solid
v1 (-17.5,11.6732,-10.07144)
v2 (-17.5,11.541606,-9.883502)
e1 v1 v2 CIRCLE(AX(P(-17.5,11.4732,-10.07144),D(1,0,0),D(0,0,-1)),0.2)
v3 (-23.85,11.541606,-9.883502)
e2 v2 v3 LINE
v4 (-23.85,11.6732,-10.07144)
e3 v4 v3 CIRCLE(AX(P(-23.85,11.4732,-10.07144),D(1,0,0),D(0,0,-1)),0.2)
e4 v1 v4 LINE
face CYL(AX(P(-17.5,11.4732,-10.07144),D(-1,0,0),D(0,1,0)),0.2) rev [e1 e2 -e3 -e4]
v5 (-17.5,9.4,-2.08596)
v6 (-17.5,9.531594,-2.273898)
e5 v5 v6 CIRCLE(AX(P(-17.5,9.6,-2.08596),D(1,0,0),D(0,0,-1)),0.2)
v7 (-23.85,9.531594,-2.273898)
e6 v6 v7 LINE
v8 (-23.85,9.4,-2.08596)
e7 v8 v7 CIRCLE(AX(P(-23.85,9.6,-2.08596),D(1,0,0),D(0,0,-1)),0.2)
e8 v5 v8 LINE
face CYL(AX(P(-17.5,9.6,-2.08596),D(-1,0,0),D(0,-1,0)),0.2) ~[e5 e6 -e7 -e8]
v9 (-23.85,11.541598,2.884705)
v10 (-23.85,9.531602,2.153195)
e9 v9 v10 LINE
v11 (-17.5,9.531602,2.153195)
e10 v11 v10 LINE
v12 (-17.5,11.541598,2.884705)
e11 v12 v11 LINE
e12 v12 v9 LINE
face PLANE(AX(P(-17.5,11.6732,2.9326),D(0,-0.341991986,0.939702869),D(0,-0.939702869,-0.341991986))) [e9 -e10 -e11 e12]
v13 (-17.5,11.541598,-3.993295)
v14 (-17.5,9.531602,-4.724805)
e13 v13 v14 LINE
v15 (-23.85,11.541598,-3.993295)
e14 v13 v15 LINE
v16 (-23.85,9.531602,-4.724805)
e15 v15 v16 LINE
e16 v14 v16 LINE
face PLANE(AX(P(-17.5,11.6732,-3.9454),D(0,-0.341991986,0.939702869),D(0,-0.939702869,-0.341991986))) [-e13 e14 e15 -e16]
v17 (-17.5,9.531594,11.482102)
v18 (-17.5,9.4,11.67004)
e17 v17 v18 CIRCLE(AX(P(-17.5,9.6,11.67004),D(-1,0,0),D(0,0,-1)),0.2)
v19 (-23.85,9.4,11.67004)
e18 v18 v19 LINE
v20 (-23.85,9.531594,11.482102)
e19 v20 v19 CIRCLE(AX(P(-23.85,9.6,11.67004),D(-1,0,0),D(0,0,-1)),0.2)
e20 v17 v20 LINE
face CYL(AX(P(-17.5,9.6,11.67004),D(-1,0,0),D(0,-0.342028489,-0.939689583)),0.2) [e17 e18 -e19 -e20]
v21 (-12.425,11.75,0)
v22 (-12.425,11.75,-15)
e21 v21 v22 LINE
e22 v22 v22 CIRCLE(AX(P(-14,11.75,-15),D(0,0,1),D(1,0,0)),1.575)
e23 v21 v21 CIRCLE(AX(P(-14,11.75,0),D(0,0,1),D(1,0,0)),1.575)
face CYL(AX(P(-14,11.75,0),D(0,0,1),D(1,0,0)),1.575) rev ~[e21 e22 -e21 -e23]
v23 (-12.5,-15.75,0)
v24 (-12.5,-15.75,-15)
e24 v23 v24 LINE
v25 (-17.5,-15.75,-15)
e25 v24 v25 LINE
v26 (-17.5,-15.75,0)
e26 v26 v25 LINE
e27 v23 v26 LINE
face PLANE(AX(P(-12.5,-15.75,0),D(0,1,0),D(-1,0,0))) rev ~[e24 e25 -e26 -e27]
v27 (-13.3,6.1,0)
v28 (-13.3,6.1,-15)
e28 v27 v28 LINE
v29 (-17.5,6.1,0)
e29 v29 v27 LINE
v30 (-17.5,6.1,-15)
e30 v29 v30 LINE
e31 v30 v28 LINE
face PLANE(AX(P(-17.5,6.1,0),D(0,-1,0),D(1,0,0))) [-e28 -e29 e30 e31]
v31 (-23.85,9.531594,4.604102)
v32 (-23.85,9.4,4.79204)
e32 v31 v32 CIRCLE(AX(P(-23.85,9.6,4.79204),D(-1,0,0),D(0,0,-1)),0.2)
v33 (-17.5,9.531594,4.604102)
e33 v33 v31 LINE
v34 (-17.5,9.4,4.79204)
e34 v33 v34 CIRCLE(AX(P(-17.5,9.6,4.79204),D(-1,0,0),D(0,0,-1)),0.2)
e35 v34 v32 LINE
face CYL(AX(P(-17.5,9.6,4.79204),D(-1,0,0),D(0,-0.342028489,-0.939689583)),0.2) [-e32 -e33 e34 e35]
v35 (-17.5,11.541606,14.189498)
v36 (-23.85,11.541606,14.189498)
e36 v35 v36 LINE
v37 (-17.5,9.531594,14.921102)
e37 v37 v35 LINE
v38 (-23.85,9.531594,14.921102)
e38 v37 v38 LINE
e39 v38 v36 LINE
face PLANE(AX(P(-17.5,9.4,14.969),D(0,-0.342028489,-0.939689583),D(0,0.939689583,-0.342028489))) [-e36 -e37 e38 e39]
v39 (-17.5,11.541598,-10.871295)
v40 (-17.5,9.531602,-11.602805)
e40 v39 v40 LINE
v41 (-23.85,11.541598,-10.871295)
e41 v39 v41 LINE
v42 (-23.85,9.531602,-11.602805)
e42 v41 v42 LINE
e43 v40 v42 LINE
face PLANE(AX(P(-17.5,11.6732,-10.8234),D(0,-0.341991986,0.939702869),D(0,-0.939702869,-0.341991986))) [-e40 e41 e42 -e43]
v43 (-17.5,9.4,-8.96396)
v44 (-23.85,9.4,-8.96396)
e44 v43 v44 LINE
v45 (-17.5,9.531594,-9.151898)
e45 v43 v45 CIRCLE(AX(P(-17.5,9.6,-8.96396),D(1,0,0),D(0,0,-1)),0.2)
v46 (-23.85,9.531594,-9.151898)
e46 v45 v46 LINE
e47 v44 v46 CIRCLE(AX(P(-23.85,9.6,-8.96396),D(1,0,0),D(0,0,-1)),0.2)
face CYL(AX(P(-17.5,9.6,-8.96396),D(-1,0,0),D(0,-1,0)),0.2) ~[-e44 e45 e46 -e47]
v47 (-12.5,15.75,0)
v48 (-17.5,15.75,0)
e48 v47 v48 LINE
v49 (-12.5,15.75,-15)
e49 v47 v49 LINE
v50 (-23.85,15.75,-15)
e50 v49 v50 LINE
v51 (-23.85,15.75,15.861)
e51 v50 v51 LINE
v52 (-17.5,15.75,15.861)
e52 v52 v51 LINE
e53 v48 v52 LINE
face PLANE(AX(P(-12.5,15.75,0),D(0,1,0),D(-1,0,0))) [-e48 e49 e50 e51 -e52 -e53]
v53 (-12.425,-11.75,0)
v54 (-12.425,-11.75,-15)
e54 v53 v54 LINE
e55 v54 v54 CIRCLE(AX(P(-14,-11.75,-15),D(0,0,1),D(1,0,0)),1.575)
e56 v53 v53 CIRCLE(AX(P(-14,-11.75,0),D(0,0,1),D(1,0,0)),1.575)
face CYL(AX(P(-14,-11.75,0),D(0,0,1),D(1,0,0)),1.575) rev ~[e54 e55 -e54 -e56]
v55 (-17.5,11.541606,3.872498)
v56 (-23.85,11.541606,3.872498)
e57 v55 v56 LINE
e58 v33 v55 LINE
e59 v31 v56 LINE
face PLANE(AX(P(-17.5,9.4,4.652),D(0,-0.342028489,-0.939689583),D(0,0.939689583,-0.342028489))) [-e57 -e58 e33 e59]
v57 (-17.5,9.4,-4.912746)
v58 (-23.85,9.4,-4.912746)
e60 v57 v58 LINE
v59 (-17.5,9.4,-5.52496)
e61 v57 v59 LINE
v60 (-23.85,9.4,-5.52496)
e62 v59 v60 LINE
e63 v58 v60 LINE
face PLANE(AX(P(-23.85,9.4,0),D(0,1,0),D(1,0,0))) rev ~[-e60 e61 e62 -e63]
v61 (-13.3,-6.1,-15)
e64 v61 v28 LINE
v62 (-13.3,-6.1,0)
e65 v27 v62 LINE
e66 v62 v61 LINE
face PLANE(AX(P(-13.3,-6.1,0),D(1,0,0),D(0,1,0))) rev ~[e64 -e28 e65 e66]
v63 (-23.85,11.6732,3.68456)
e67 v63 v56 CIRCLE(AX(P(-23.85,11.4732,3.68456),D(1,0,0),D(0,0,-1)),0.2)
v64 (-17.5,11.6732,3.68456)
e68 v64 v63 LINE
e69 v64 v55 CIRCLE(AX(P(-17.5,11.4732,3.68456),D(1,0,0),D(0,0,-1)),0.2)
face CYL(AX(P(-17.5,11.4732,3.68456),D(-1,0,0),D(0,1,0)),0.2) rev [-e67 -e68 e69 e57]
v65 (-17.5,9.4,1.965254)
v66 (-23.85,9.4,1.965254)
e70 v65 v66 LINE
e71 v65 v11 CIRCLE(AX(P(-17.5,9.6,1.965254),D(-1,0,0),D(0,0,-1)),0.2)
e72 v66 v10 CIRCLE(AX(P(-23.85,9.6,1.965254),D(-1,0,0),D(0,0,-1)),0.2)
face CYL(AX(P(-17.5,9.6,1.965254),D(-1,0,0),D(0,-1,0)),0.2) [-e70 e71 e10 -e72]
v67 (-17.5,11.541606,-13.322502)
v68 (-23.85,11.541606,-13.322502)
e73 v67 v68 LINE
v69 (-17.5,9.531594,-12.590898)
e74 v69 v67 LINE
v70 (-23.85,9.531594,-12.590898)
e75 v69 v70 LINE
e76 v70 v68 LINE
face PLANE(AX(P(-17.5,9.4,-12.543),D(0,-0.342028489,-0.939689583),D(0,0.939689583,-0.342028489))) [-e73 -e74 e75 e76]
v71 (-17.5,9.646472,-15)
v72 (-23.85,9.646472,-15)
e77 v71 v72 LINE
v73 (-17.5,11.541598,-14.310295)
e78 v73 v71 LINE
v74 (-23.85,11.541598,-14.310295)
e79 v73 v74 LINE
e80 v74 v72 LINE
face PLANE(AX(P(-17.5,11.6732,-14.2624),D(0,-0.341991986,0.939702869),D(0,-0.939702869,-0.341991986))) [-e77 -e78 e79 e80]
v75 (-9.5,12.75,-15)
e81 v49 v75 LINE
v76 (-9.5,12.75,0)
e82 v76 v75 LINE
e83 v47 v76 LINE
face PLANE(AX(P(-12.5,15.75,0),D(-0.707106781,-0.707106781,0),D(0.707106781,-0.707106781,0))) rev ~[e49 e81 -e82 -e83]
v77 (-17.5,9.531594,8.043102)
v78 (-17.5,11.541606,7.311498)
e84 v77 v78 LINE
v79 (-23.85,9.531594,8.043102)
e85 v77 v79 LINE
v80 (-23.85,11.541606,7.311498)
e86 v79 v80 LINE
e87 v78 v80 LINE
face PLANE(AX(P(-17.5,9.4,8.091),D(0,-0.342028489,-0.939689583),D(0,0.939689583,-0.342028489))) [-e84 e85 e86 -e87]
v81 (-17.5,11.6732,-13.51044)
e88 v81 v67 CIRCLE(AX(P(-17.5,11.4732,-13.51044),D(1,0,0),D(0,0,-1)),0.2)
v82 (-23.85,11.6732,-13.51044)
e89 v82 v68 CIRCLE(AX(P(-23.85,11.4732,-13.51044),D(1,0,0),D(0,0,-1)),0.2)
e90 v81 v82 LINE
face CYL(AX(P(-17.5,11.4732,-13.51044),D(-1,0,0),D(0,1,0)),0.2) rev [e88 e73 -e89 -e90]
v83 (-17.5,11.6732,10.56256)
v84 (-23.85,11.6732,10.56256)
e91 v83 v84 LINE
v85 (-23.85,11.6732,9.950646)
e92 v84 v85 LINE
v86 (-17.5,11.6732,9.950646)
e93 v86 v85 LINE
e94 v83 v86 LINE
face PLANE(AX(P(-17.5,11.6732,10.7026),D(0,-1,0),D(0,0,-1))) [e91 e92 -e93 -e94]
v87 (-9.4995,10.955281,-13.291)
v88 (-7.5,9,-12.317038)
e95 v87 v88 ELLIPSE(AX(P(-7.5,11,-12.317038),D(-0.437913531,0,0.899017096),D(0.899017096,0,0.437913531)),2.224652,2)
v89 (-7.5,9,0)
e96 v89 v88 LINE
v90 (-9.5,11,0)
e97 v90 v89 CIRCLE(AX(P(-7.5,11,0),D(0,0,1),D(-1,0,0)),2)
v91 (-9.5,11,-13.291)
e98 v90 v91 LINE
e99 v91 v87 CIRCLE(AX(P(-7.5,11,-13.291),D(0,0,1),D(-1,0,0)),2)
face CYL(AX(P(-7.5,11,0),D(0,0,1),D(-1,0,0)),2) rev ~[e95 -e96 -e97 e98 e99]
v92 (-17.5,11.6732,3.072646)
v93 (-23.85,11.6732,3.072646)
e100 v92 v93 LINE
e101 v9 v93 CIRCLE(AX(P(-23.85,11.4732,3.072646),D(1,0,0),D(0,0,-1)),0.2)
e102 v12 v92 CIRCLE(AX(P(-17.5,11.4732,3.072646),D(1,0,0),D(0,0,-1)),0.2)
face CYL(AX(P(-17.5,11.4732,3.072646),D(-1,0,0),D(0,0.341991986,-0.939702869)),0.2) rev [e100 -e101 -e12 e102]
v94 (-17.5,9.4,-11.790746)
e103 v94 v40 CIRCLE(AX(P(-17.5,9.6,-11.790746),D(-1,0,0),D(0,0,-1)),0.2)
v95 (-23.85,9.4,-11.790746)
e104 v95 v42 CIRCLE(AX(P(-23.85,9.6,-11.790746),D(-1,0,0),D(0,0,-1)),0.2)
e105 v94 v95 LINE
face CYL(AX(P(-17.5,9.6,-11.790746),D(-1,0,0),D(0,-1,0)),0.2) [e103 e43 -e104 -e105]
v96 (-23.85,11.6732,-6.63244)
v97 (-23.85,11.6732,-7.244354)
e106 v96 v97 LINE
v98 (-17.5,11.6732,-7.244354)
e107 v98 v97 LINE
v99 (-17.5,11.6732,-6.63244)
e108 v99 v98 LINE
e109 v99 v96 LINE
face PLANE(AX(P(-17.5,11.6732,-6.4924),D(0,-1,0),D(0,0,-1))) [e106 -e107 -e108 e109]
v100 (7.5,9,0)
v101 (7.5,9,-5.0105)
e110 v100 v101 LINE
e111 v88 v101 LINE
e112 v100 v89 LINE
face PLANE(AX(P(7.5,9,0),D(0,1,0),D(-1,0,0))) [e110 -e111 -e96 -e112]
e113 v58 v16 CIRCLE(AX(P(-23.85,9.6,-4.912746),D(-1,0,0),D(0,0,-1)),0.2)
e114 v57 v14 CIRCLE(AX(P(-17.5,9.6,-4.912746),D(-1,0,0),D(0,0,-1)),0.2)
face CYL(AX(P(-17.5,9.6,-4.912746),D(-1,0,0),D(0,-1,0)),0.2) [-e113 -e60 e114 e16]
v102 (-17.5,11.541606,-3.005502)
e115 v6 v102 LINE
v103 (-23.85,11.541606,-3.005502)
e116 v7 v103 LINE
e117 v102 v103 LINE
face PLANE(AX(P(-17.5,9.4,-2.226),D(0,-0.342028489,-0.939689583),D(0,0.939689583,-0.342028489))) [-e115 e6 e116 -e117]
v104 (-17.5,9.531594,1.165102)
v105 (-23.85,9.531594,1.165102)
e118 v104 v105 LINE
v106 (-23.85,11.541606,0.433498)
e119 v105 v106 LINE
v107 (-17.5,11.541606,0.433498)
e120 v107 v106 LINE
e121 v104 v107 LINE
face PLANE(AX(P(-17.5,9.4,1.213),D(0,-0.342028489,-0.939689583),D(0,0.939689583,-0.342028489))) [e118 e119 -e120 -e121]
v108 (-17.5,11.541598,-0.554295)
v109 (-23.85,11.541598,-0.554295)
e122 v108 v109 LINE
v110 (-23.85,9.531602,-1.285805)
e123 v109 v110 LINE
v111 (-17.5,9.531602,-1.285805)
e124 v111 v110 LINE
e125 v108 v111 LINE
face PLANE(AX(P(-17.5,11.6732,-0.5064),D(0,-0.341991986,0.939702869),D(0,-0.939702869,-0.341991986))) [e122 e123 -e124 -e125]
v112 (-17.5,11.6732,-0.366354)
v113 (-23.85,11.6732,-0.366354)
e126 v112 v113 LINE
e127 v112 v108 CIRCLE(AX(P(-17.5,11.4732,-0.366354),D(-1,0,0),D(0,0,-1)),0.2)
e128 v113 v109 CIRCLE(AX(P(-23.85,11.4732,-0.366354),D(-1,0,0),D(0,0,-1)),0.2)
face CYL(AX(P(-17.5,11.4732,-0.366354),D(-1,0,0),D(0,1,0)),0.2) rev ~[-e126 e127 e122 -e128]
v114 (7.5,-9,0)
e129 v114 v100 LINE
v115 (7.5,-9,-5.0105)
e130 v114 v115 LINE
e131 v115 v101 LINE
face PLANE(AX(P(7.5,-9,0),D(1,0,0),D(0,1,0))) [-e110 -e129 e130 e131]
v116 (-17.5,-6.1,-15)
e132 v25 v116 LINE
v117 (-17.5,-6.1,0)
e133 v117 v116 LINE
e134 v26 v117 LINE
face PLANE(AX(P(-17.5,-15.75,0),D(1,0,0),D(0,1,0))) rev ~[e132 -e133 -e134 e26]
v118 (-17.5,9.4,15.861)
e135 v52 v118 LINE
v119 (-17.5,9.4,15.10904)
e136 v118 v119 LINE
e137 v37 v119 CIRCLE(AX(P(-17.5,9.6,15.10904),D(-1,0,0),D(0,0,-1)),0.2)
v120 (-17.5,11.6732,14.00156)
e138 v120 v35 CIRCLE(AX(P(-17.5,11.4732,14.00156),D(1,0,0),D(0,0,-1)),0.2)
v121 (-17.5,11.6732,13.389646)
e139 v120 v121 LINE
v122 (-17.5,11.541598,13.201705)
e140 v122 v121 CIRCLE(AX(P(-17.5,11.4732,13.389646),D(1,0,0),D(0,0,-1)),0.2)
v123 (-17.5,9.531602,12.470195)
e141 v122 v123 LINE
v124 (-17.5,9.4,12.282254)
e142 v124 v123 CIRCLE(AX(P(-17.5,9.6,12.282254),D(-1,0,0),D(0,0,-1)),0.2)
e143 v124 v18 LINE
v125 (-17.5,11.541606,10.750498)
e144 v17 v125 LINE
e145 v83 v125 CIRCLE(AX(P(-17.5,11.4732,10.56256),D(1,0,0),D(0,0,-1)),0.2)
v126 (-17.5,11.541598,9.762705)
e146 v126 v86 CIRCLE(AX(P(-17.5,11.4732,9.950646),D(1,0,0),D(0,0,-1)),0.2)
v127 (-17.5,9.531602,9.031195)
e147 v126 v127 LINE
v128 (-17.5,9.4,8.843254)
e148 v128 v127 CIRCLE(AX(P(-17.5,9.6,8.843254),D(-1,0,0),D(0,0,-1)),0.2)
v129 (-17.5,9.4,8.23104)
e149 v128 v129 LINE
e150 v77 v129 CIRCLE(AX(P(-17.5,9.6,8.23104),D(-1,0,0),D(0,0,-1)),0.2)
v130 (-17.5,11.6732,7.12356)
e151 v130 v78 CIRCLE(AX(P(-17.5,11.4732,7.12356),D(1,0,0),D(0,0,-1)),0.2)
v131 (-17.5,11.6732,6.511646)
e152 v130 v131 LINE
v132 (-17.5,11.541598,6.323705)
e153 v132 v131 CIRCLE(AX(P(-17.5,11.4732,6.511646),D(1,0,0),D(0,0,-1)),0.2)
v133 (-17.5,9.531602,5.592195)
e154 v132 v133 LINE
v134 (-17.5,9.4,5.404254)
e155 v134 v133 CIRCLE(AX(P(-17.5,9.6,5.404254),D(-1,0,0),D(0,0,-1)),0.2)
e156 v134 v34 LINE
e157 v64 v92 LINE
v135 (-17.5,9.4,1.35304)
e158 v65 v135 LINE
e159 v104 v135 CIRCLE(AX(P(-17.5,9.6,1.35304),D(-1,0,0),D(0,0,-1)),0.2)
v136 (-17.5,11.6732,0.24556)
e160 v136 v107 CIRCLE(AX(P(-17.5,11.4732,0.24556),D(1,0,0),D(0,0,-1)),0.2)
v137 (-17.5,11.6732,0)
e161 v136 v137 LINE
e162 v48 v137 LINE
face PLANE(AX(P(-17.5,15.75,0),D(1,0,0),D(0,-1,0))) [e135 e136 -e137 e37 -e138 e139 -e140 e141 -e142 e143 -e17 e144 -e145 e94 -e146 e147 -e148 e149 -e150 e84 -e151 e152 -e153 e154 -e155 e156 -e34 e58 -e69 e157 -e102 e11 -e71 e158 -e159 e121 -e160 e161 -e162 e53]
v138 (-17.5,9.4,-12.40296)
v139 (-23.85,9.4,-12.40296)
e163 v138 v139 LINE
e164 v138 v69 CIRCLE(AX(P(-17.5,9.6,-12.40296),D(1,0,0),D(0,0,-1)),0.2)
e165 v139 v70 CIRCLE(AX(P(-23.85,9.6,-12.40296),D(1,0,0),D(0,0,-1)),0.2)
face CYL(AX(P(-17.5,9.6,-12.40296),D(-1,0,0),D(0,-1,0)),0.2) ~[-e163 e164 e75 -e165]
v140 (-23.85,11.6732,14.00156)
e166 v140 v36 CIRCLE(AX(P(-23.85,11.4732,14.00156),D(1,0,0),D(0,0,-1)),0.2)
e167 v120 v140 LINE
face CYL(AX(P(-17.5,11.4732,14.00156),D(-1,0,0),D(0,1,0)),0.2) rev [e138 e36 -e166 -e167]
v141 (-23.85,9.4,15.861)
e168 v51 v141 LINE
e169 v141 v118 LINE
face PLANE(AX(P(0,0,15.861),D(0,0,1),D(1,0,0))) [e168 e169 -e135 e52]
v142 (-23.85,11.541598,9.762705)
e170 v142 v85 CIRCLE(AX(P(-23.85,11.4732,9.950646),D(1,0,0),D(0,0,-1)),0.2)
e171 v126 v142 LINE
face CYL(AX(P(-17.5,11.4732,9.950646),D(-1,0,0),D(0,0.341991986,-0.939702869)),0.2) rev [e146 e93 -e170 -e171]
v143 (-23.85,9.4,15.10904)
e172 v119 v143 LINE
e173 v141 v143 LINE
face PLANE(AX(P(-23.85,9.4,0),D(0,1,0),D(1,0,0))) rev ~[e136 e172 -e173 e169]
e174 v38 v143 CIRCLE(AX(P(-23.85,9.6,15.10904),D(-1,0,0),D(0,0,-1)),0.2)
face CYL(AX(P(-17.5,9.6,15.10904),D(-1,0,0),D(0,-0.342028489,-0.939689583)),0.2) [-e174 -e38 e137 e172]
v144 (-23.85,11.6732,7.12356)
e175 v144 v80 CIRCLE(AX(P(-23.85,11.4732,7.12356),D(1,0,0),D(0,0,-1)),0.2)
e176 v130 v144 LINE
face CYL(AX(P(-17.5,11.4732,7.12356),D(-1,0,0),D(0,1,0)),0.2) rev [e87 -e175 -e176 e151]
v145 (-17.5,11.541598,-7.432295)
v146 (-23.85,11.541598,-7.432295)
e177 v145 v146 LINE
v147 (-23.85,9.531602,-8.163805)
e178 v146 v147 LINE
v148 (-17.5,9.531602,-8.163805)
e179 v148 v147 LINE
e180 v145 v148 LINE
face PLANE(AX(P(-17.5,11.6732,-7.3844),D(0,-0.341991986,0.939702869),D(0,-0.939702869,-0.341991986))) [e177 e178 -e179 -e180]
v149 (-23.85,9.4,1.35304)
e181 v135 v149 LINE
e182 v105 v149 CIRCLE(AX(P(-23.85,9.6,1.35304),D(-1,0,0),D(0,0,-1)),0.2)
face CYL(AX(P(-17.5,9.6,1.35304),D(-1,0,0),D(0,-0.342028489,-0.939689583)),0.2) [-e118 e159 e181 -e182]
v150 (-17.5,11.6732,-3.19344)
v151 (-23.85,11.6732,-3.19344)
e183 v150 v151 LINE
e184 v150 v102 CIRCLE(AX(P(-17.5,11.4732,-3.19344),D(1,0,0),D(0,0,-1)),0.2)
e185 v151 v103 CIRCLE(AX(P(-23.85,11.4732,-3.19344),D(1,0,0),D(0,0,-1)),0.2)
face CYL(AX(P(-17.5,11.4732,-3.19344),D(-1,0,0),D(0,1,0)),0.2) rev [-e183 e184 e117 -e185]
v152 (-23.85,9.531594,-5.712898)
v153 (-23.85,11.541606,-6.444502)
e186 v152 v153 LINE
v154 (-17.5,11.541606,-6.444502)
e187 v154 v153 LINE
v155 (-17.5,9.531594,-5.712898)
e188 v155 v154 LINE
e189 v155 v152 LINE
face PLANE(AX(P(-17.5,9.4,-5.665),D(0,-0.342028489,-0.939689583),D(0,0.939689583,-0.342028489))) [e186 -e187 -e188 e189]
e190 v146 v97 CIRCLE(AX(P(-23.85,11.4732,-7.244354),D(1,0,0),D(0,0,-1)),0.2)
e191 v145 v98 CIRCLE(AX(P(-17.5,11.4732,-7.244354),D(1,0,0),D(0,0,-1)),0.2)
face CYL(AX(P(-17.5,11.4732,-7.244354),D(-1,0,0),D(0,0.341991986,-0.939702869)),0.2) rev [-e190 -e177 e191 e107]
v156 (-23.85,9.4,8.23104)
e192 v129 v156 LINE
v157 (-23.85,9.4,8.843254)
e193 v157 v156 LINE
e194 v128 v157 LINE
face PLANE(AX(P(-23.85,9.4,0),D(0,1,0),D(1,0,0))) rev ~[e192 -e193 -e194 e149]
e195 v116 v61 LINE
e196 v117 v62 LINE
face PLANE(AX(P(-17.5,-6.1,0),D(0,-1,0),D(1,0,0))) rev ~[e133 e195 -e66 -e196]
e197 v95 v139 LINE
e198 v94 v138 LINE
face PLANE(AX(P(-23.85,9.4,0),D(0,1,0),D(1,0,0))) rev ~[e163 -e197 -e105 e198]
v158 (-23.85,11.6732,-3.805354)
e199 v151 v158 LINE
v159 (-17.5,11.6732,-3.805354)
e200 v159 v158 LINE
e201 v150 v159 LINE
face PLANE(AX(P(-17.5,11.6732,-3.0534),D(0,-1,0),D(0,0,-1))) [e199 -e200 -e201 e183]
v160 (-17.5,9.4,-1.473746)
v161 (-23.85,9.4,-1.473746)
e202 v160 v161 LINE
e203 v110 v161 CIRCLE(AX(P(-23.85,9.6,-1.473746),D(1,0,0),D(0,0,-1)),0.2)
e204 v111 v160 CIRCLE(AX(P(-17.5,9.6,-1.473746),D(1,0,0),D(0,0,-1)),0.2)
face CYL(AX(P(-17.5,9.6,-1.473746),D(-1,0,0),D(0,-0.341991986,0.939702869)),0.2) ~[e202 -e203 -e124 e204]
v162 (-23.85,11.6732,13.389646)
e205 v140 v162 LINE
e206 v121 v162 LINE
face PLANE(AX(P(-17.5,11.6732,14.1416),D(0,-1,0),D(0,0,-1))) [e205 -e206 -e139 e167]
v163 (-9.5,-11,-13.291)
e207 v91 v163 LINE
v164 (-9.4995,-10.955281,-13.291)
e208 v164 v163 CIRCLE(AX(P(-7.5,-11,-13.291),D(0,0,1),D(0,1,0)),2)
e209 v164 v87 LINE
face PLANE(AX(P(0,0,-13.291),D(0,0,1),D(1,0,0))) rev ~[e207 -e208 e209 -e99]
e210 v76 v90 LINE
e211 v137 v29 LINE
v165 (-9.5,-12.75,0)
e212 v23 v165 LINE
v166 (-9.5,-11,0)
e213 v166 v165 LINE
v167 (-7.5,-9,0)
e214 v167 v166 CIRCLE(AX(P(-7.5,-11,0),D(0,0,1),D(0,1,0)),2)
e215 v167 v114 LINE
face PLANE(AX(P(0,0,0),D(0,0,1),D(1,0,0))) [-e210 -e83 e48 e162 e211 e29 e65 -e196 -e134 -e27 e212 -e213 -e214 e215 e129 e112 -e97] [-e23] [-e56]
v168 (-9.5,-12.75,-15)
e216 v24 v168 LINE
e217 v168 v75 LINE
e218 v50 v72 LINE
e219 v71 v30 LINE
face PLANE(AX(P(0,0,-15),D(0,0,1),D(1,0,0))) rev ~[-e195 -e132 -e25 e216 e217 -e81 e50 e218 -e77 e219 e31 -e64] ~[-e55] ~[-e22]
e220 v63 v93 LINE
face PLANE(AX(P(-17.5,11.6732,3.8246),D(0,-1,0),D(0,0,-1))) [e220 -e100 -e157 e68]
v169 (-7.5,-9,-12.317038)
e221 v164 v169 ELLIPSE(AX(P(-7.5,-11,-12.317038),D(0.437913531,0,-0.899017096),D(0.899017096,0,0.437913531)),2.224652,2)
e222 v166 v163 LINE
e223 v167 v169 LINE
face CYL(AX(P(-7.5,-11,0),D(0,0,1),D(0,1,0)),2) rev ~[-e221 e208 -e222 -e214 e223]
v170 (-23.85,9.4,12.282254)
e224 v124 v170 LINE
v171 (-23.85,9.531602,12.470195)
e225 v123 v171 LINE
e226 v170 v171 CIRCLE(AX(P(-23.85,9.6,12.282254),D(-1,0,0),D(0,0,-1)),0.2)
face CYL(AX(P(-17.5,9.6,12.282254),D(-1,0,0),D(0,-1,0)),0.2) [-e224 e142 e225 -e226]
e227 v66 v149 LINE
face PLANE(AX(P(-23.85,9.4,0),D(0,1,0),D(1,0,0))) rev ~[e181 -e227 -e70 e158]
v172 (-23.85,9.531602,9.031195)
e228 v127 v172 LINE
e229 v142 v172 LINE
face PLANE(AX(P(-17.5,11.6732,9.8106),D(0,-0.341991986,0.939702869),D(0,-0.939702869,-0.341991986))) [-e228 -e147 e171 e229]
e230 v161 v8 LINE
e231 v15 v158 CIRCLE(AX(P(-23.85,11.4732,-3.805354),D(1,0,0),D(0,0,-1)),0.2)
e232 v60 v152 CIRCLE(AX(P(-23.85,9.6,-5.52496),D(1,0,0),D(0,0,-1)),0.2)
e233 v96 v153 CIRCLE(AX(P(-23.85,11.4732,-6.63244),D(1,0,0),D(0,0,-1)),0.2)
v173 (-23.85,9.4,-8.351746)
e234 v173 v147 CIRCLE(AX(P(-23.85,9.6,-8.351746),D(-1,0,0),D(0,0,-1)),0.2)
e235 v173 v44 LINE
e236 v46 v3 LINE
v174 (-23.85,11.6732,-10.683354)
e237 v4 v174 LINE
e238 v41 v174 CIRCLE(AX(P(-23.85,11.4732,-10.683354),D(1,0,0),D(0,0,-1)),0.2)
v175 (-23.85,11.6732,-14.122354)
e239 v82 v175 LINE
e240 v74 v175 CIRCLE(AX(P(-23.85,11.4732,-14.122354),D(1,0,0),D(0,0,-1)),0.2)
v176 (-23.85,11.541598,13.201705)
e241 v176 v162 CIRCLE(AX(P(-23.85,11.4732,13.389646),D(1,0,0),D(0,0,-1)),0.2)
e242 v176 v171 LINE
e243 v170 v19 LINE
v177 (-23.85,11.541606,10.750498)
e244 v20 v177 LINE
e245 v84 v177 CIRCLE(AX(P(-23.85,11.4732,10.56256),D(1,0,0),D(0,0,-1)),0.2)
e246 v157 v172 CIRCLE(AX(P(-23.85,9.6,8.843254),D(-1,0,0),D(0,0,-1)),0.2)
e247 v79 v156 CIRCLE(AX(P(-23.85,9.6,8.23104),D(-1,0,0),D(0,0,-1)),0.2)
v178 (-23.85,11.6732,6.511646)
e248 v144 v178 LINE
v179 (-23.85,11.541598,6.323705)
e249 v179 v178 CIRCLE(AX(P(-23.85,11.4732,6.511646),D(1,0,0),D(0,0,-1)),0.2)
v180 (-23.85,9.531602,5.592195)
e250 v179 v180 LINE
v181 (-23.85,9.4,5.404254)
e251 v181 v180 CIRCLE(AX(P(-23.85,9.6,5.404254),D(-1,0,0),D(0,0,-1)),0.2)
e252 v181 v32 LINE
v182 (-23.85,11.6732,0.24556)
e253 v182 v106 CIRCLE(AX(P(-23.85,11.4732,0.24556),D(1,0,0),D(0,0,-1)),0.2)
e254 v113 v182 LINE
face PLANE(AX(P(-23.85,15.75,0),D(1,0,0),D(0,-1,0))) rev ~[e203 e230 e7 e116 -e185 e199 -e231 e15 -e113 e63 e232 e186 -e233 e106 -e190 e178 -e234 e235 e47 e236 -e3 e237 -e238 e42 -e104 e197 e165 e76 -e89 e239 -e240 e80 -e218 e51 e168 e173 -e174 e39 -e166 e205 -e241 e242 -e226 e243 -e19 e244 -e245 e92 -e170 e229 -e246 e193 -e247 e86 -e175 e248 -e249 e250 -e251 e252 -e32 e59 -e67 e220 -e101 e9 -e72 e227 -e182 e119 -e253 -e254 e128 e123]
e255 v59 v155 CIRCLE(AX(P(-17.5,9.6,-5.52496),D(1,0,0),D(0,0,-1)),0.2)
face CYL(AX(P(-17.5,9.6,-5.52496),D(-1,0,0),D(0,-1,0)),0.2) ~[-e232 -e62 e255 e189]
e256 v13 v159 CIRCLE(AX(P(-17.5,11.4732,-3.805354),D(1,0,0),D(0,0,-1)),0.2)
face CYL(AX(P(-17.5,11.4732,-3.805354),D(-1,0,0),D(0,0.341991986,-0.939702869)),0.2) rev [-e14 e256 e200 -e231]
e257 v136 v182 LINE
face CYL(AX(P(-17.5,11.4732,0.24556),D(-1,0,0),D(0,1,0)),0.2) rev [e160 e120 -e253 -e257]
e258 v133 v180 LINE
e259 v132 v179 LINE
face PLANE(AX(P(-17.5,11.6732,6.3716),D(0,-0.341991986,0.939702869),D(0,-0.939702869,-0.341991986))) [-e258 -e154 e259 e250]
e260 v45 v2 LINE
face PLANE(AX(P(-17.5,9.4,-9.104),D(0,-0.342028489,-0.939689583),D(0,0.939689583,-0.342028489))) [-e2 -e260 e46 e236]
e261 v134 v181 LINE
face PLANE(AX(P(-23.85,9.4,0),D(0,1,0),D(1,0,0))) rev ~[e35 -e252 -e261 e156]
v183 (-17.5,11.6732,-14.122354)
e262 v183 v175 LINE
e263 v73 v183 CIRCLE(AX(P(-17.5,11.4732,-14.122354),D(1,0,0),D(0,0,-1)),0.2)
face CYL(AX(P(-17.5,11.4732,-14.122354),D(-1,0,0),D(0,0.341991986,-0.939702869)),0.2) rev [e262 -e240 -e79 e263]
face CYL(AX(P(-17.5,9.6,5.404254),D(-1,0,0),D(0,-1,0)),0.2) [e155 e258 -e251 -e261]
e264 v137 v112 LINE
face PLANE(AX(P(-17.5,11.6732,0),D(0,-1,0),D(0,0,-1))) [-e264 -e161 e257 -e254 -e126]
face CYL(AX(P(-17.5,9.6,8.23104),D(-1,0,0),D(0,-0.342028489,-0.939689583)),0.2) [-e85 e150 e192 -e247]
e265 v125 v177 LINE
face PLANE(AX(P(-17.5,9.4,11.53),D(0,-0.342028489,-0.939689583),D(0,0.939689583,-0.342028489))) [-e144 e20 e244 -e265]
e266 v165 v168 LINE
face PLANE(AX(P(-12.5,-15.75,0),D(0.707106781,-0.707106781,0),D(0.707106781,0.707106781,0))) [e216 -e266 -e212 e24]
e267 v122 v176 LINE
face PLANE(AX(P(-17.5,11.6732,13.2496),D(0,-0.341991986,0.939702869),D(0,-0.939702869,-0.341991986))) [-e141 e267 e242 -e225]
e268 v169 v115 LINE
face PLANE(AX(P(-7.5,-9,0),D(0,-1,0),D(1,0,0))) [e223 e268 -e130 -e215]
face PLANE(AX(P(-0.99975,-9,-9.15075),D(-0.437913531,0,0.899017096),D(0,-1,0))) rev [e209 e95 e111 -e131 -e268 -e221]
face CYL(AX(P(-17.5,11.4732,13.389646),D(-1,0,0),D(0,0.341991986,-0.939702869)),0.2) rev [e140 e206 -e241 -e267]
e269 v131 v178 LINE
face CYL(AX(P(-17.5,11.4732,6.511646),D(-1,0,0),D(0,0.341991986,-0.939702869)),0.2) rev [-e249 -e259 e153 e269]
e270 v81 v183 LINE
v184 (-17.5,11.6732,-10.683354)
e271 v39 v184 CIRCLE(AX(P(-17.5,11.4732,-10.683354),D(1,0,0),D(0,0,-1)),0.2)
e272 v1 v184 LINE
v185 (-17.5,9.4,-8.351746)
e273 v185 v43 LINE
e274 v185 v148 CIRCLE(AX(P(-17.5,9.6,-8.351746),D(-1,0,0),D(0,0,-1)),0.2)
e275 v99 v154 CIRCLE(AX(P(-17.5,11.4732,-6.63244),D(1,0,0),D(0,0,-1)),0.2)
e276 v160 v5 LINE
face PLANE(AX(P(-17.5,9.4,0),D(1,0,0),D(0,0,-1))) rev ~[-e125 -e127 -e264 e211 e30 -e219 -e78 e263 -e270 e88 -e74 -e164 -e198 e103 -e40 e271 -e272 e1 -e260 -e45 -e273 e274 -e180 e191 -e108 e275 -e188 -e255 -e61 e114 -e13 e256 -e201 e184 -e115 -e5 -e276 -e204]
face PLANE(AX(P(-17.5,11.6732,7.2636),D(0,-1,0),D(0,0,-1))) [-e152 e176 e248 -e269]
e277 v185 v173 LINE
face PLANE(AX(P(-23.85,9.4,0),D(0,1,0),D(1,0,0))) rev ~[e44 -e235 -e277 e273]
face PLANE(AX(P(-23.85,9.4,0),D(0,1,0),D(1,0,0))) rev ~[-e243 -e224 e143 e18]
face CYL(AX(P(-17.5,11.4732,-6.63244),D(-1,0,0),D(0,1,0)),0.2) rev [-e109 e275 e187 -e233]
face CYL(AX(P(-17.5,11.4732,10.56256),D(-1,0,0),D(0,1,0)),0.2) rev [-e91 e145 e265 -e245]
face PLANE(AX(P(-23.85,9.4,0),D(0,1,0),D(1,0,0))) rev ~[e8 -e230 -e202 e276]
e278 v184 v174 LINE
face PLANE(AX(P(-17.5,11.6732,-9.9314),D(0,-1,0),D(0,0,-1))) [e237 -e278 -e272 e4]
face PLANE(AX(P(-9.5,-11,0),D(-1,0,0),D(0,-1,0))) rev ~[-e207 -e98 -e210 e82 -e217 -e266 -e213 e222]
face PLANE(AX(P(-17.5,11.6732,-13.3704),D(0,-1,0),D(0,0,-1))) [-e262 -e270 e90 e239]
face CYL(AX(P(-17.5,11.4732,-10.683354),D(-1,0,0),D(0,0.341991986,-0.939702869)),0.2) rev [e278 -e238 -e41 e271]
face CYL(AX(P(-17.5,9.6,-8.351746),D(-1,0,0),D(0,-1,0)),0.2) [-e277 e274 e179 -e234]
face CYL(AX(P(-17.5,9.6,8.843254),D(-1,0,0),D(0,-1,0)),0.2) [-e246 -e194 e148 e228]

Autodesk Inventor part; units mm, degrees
ref_plane "YZ Plane" through (0, 0, 0) normal (1, 0, 0) x (0, 1, 0)
ref_plane "XZ Plane" through (0, 0, 0) normal (0, 1, 0) x (-1, 0, 0)
sketch "Sketch1" plane through (0, 0, 0) normal (0, 0, 1) x (1, 0, 0)
  line L0 (-7.5, -9) -> (7.5, -9)
  line L1 (7.5, -9) -> (7.5, 9)
  line L2 (7.5, 9) -> (-7.5, 9)
  line L3 (-9.5, -11) -> (-9.5, -12.75)
  line L4 (-12.5, -15.75) -> (-17.5, -15.75)
  arc A0 (-7.5, -9) -> (-9.5, -11) centre (-7.5, -11) ccw
  line L5 (-12.5, -15.75) -> (-9.5, -12.75)
  line L6 (-17.5, -15.75) -> (-17.5, -6.1)
  line L7 (-17.5, -6.1) -> (-13.3, -6.1)
  line L8 (-13.3, -6.1) -> (-13.3, 0)
  line L9 (2.7531, 0) -> (-2.7531, 0) construction
  line L10 (-9.5, 11) -> (-9.5, 12.75)
  line L11 (-12.5, 15.75) -> (-17.5, 15.75)
  arc A1 (-9.5, 11) -> (-7.5, 9) centre (-7.5, 11) ccw
  line L12 (-12.5, 15.75) -> (-9.5, 12.75)
  line L13 (-17.5, 15.75) -> (-17.5, 6.1)
  line L14 (-17.5, 6.1) -> (-13.3, 6.1)
  line L15 (-13.3, 6.1) -> (-13.3, 0)
  circle A2 centre (-14, -11.75) radius 1.575
  circle A3 centre (-14, 11.75) radius 1.575
  line L16 (-17.5, 15.75) -> (-23.85, 15.75)
  line L17 (-23.85, 15.75) -> (-23.85, 9.4)
  line L18 (-23.85, 9.4) -> (-17.5, 9.4)
  line L19 (-9.5, 11.875) -> (-9.5, -11.875)
  point P0 (0, 0)
  point P1 (0, 0)
  point P2 (7.5, 0)
  point P3 (0, -9)
  point P4 (-9.5, -15.75)
  point P5 (0, 0)
  point P6 (-9.5, 15.75)
  dimension "d1" = 18
  dimension "d3" = 8
  dimension "d4" = 2
  dimension "d5" = 3
  dimension "d6" = 3
  dimension "d7" = 9.65
  dimension "d8" = 4.2
  dimension "d9" = 6.1
  dimension "d10" = 7.5
  dimension "d11" = 3.875
  dimension "d12" = 3.15
  dimension "d13" = 3.5
  dimension "d14" = 4
  dimension "d15" = 6.35
  dimension "d16" = 6.35
extrude "Extrusion1" add sketch "Sketch1" against normal blind 15 contours L3 L5 L4 L6 L7 L8 L15 L14 L13 L11 L12 L10 L19
extrude "Extrusion2" add sketch "Sketch1" against normal blind 13.291 contours A0 L19 A1 L2 L1 L0
chamfer "Chamfer1" distance 17 distance2 8.281 1 edges at (7.5, 0, -13.291) measured on face at (-2.5, 3, -13.291)
extrude "Extrusion3" add sketch "Sketch1" along normal blind 15.861 and the other way blind 15 contours L13 L18 L17 L16
ref_plane "Work Plane1" through (-17.5, 9.4, 0) normal (1, 0, 0) x (0, 0, -1)
sketch "Sketch2" plane through (-17.5, 9.4, 0) normal (1, 0, 0) x (0, 0, -1)
  line L0 (0, 6.35) -> (0, 0) projected
  line L1 (15, 0) -> (0, 0) projected
  line L2 (15, 6.35) -> (15, 0) projected
  line L3 (0, 6.35) -> (15, 6.35) projected
  line L4 (-15.861, 6.35) -> (0, 6.35) projected
  line L5 (-15.861, 0) -> (-15.861, 6.35) projected
  line L6 (0, 0) -> (-15.861, 0) projected
  line L7 (0, -3.3) -> (0, 0) projected
  line L8 (15, -3.3) -> (0, -3.3) projected
  line L9 (15, 0) -> (15, -3.3) projected
  line L10 (0, -15.5) -> (15, -15.5) projected
  line L11 (15, -15.5) -> (15, -25.15) projected
  line L12 (15, -25.15) -> (0, -25.15) projected
  line L13 (0, -25.15) -> (0, -15.5) projected
  line L14 (-15.861, 0) -> (-14.969, 0)
  line L15 (-14.969, 0) -> (-14.1416, 2.2732)
  line L16 (-14.1416, 2.2732) -> (-13.2496, 2.2732)
  line L17 (-13.2496, 2.2732) -> (-12.4223, 0)
  line L18 (-15.861, 0) -> (15, 0) projected
  line L19 (-9.8106, 2.2732) -> (-8.9833, 0)
  line L20 (-10.7026, 2.2732) -> (-9.8106, 2.2732)
  line L21 (-11.53, 0) -> (-10.7026, 2.2732)
  line L22 (-12.422, 0) -> (-11.53, 0)
  line L23 (-6.3716, 2.2732) -> (-5.5443, 0)
  line L24 (-7.2636, 2.2732) -> (-6.3716, 2.2732)
  line L25 (-8.091, 0) -> (-7.2636, 2.2732)
  line L26 (-8.983, 0) -> (-8.091, 0)
  line L27 (-2.9326, 2.2732) -> (-2.1053, 0)
  line L28 (-3.8246, 2.2732) -> (-2.9326, 2.2732)
  line L29 (-4.652, 0) -> (-3.8246, 2.2732)
  line L30 (-5.544, 0) -> (-4.652, 0)
  line L31 (0.5064, 2.2732) -> (1.3337, 0)
  line L32 (-0.3856, 2.2732) -> (0.5064, 2.2732)
  line L33 (-1.213, 0) -> (-0.3856, 2.2732)
  line L34 (-2.105, 0) -> (-1.213, 0)
  line L35 (3.9454, 2.2732) -> (4.7727, 0)
  line L36 (3.0534, 2.2732) -> (3.9454, 2.2732)
  line L37 (2.226, 0) -> (3.0534, 2.2732)
  line L38 (1.334, 0) -> (2.226, 0)
  line L39 (7.3844, 2.2732) -> (8.2117, 0)
  line L40 (6.4924, 2.2732) -> (7.3844, 2.2732)
  line L41 (5.665, 0) -> (6.4924, 2.2732)
  line L42 (4.773, 0) -> (5.665, 0)
  line L43 (10.8234, 2.2732) -> (11.6507, 0)
  line L44 (9.9314, 2.2732) -> (10.8234, 2.2732)
  line L45 (9.104, 0) -> (9.9314, 2.2732)
  line L46 (8.212, 0) -> (9.104, 0)
  line L47 (14.2624, 2.2732) -> (15.0897, 0)
  line L48 (13.3704, 2.2732) -> (14.2624, 2.2732)
  line L49 (12.543, 0) -> (13.3704, 2.2732)
  line L50 (11.651, 0) -> (12.543, 0)
  point P0 (0, -9.4)
  point P1 (15, 0.2465)
  point P2 (11.6507, 0)
  point P3 (8.2117, 0)
  point P4 (4.7727, 0)
  point P5 (1.3337, 0)
  point P6 (-2.1053, 0)
  point P7 (-5.5443, 0)
  point P8 (-8.9833, 0)
  point P9 (-12.4223, 0)
  dimension "d29" = 0.892
  dimension "d30" = 110
  dimension "d31" = 110
  dimension "d32" = 0.892
  dimension "d33" = 2.2732
  dimension "d36" = 3.439
extrude "Extrusion4" cut sketch "Sketch2" against normal up to surface (6.35 mm away) contours L32 L31 L1 L0 | L0 L6 L33 L32 | L2 L1 L49 L48 L47 | L15 L16 L17 L6 | L37 L36 L35 L1 | L6 L29 L28 L27 | L1 L45 L44 L43 | L21 L20 L19 L6 | L41 L40 L39 L1 | L6 L25 L24 L23
fillet "Fillet1" radius 0.2 35 edges at (-20.675, 11.6732, 14.1416) (-20.675, 11.6732, 13.2496) (-20.675, 9.4, 14.969) (-20.675, 9.4, 12.4223) (-20.675, 9.4, 11.53) (-20.675, 11.6732, 10.7026) (-20.675, 11.6732, 9.8106) (-20.675, 9.4, 8.9833) (-20.675, 9.4, 8.091) (-20.675, 11.6732, 7.2636) (-20.675, 11.6732, 6.3716) (-20.675, 9.4, 5.5443) (-20.675, 9.4, 4.652) (-20.675, 11.6732, 3.8246) (-20.675, 11.6732, 2.9326) (-20.675, 9.4, 2.1053) (-20.675, 9.4, 1.213) (-20.675, 11.6732, 0.3856) (-20.675, 11.6732, -0.5064) (-20.675, 9.4, -1.3337) (-20.675, 9.4, -2.226) (-20.675, 11.6732, -3.0534) (-20.675, 11.6732, -3.9454) (-20.675, 9.4, -4.7727) (-20.675, 9.4, -5.665) (-20.675, 11.6732, -6.4924) (-20.675, 11.6732, -7.3844) (-20.675, 9.4, -8.2117) (-20.675, 9.4, -9.104) (-20.675, 11.6732, -9.9314) (-20.675, 11.6732, -10.8234) (-20.675, 9.4, -11.6507) (-20.675, 9.4, -12.543) (-20.675, 11.6732, -13.3704) (-20.675, 11.6732, -14.2624)
equation "\"d6\" = d5"
properties part number "GA_1"
